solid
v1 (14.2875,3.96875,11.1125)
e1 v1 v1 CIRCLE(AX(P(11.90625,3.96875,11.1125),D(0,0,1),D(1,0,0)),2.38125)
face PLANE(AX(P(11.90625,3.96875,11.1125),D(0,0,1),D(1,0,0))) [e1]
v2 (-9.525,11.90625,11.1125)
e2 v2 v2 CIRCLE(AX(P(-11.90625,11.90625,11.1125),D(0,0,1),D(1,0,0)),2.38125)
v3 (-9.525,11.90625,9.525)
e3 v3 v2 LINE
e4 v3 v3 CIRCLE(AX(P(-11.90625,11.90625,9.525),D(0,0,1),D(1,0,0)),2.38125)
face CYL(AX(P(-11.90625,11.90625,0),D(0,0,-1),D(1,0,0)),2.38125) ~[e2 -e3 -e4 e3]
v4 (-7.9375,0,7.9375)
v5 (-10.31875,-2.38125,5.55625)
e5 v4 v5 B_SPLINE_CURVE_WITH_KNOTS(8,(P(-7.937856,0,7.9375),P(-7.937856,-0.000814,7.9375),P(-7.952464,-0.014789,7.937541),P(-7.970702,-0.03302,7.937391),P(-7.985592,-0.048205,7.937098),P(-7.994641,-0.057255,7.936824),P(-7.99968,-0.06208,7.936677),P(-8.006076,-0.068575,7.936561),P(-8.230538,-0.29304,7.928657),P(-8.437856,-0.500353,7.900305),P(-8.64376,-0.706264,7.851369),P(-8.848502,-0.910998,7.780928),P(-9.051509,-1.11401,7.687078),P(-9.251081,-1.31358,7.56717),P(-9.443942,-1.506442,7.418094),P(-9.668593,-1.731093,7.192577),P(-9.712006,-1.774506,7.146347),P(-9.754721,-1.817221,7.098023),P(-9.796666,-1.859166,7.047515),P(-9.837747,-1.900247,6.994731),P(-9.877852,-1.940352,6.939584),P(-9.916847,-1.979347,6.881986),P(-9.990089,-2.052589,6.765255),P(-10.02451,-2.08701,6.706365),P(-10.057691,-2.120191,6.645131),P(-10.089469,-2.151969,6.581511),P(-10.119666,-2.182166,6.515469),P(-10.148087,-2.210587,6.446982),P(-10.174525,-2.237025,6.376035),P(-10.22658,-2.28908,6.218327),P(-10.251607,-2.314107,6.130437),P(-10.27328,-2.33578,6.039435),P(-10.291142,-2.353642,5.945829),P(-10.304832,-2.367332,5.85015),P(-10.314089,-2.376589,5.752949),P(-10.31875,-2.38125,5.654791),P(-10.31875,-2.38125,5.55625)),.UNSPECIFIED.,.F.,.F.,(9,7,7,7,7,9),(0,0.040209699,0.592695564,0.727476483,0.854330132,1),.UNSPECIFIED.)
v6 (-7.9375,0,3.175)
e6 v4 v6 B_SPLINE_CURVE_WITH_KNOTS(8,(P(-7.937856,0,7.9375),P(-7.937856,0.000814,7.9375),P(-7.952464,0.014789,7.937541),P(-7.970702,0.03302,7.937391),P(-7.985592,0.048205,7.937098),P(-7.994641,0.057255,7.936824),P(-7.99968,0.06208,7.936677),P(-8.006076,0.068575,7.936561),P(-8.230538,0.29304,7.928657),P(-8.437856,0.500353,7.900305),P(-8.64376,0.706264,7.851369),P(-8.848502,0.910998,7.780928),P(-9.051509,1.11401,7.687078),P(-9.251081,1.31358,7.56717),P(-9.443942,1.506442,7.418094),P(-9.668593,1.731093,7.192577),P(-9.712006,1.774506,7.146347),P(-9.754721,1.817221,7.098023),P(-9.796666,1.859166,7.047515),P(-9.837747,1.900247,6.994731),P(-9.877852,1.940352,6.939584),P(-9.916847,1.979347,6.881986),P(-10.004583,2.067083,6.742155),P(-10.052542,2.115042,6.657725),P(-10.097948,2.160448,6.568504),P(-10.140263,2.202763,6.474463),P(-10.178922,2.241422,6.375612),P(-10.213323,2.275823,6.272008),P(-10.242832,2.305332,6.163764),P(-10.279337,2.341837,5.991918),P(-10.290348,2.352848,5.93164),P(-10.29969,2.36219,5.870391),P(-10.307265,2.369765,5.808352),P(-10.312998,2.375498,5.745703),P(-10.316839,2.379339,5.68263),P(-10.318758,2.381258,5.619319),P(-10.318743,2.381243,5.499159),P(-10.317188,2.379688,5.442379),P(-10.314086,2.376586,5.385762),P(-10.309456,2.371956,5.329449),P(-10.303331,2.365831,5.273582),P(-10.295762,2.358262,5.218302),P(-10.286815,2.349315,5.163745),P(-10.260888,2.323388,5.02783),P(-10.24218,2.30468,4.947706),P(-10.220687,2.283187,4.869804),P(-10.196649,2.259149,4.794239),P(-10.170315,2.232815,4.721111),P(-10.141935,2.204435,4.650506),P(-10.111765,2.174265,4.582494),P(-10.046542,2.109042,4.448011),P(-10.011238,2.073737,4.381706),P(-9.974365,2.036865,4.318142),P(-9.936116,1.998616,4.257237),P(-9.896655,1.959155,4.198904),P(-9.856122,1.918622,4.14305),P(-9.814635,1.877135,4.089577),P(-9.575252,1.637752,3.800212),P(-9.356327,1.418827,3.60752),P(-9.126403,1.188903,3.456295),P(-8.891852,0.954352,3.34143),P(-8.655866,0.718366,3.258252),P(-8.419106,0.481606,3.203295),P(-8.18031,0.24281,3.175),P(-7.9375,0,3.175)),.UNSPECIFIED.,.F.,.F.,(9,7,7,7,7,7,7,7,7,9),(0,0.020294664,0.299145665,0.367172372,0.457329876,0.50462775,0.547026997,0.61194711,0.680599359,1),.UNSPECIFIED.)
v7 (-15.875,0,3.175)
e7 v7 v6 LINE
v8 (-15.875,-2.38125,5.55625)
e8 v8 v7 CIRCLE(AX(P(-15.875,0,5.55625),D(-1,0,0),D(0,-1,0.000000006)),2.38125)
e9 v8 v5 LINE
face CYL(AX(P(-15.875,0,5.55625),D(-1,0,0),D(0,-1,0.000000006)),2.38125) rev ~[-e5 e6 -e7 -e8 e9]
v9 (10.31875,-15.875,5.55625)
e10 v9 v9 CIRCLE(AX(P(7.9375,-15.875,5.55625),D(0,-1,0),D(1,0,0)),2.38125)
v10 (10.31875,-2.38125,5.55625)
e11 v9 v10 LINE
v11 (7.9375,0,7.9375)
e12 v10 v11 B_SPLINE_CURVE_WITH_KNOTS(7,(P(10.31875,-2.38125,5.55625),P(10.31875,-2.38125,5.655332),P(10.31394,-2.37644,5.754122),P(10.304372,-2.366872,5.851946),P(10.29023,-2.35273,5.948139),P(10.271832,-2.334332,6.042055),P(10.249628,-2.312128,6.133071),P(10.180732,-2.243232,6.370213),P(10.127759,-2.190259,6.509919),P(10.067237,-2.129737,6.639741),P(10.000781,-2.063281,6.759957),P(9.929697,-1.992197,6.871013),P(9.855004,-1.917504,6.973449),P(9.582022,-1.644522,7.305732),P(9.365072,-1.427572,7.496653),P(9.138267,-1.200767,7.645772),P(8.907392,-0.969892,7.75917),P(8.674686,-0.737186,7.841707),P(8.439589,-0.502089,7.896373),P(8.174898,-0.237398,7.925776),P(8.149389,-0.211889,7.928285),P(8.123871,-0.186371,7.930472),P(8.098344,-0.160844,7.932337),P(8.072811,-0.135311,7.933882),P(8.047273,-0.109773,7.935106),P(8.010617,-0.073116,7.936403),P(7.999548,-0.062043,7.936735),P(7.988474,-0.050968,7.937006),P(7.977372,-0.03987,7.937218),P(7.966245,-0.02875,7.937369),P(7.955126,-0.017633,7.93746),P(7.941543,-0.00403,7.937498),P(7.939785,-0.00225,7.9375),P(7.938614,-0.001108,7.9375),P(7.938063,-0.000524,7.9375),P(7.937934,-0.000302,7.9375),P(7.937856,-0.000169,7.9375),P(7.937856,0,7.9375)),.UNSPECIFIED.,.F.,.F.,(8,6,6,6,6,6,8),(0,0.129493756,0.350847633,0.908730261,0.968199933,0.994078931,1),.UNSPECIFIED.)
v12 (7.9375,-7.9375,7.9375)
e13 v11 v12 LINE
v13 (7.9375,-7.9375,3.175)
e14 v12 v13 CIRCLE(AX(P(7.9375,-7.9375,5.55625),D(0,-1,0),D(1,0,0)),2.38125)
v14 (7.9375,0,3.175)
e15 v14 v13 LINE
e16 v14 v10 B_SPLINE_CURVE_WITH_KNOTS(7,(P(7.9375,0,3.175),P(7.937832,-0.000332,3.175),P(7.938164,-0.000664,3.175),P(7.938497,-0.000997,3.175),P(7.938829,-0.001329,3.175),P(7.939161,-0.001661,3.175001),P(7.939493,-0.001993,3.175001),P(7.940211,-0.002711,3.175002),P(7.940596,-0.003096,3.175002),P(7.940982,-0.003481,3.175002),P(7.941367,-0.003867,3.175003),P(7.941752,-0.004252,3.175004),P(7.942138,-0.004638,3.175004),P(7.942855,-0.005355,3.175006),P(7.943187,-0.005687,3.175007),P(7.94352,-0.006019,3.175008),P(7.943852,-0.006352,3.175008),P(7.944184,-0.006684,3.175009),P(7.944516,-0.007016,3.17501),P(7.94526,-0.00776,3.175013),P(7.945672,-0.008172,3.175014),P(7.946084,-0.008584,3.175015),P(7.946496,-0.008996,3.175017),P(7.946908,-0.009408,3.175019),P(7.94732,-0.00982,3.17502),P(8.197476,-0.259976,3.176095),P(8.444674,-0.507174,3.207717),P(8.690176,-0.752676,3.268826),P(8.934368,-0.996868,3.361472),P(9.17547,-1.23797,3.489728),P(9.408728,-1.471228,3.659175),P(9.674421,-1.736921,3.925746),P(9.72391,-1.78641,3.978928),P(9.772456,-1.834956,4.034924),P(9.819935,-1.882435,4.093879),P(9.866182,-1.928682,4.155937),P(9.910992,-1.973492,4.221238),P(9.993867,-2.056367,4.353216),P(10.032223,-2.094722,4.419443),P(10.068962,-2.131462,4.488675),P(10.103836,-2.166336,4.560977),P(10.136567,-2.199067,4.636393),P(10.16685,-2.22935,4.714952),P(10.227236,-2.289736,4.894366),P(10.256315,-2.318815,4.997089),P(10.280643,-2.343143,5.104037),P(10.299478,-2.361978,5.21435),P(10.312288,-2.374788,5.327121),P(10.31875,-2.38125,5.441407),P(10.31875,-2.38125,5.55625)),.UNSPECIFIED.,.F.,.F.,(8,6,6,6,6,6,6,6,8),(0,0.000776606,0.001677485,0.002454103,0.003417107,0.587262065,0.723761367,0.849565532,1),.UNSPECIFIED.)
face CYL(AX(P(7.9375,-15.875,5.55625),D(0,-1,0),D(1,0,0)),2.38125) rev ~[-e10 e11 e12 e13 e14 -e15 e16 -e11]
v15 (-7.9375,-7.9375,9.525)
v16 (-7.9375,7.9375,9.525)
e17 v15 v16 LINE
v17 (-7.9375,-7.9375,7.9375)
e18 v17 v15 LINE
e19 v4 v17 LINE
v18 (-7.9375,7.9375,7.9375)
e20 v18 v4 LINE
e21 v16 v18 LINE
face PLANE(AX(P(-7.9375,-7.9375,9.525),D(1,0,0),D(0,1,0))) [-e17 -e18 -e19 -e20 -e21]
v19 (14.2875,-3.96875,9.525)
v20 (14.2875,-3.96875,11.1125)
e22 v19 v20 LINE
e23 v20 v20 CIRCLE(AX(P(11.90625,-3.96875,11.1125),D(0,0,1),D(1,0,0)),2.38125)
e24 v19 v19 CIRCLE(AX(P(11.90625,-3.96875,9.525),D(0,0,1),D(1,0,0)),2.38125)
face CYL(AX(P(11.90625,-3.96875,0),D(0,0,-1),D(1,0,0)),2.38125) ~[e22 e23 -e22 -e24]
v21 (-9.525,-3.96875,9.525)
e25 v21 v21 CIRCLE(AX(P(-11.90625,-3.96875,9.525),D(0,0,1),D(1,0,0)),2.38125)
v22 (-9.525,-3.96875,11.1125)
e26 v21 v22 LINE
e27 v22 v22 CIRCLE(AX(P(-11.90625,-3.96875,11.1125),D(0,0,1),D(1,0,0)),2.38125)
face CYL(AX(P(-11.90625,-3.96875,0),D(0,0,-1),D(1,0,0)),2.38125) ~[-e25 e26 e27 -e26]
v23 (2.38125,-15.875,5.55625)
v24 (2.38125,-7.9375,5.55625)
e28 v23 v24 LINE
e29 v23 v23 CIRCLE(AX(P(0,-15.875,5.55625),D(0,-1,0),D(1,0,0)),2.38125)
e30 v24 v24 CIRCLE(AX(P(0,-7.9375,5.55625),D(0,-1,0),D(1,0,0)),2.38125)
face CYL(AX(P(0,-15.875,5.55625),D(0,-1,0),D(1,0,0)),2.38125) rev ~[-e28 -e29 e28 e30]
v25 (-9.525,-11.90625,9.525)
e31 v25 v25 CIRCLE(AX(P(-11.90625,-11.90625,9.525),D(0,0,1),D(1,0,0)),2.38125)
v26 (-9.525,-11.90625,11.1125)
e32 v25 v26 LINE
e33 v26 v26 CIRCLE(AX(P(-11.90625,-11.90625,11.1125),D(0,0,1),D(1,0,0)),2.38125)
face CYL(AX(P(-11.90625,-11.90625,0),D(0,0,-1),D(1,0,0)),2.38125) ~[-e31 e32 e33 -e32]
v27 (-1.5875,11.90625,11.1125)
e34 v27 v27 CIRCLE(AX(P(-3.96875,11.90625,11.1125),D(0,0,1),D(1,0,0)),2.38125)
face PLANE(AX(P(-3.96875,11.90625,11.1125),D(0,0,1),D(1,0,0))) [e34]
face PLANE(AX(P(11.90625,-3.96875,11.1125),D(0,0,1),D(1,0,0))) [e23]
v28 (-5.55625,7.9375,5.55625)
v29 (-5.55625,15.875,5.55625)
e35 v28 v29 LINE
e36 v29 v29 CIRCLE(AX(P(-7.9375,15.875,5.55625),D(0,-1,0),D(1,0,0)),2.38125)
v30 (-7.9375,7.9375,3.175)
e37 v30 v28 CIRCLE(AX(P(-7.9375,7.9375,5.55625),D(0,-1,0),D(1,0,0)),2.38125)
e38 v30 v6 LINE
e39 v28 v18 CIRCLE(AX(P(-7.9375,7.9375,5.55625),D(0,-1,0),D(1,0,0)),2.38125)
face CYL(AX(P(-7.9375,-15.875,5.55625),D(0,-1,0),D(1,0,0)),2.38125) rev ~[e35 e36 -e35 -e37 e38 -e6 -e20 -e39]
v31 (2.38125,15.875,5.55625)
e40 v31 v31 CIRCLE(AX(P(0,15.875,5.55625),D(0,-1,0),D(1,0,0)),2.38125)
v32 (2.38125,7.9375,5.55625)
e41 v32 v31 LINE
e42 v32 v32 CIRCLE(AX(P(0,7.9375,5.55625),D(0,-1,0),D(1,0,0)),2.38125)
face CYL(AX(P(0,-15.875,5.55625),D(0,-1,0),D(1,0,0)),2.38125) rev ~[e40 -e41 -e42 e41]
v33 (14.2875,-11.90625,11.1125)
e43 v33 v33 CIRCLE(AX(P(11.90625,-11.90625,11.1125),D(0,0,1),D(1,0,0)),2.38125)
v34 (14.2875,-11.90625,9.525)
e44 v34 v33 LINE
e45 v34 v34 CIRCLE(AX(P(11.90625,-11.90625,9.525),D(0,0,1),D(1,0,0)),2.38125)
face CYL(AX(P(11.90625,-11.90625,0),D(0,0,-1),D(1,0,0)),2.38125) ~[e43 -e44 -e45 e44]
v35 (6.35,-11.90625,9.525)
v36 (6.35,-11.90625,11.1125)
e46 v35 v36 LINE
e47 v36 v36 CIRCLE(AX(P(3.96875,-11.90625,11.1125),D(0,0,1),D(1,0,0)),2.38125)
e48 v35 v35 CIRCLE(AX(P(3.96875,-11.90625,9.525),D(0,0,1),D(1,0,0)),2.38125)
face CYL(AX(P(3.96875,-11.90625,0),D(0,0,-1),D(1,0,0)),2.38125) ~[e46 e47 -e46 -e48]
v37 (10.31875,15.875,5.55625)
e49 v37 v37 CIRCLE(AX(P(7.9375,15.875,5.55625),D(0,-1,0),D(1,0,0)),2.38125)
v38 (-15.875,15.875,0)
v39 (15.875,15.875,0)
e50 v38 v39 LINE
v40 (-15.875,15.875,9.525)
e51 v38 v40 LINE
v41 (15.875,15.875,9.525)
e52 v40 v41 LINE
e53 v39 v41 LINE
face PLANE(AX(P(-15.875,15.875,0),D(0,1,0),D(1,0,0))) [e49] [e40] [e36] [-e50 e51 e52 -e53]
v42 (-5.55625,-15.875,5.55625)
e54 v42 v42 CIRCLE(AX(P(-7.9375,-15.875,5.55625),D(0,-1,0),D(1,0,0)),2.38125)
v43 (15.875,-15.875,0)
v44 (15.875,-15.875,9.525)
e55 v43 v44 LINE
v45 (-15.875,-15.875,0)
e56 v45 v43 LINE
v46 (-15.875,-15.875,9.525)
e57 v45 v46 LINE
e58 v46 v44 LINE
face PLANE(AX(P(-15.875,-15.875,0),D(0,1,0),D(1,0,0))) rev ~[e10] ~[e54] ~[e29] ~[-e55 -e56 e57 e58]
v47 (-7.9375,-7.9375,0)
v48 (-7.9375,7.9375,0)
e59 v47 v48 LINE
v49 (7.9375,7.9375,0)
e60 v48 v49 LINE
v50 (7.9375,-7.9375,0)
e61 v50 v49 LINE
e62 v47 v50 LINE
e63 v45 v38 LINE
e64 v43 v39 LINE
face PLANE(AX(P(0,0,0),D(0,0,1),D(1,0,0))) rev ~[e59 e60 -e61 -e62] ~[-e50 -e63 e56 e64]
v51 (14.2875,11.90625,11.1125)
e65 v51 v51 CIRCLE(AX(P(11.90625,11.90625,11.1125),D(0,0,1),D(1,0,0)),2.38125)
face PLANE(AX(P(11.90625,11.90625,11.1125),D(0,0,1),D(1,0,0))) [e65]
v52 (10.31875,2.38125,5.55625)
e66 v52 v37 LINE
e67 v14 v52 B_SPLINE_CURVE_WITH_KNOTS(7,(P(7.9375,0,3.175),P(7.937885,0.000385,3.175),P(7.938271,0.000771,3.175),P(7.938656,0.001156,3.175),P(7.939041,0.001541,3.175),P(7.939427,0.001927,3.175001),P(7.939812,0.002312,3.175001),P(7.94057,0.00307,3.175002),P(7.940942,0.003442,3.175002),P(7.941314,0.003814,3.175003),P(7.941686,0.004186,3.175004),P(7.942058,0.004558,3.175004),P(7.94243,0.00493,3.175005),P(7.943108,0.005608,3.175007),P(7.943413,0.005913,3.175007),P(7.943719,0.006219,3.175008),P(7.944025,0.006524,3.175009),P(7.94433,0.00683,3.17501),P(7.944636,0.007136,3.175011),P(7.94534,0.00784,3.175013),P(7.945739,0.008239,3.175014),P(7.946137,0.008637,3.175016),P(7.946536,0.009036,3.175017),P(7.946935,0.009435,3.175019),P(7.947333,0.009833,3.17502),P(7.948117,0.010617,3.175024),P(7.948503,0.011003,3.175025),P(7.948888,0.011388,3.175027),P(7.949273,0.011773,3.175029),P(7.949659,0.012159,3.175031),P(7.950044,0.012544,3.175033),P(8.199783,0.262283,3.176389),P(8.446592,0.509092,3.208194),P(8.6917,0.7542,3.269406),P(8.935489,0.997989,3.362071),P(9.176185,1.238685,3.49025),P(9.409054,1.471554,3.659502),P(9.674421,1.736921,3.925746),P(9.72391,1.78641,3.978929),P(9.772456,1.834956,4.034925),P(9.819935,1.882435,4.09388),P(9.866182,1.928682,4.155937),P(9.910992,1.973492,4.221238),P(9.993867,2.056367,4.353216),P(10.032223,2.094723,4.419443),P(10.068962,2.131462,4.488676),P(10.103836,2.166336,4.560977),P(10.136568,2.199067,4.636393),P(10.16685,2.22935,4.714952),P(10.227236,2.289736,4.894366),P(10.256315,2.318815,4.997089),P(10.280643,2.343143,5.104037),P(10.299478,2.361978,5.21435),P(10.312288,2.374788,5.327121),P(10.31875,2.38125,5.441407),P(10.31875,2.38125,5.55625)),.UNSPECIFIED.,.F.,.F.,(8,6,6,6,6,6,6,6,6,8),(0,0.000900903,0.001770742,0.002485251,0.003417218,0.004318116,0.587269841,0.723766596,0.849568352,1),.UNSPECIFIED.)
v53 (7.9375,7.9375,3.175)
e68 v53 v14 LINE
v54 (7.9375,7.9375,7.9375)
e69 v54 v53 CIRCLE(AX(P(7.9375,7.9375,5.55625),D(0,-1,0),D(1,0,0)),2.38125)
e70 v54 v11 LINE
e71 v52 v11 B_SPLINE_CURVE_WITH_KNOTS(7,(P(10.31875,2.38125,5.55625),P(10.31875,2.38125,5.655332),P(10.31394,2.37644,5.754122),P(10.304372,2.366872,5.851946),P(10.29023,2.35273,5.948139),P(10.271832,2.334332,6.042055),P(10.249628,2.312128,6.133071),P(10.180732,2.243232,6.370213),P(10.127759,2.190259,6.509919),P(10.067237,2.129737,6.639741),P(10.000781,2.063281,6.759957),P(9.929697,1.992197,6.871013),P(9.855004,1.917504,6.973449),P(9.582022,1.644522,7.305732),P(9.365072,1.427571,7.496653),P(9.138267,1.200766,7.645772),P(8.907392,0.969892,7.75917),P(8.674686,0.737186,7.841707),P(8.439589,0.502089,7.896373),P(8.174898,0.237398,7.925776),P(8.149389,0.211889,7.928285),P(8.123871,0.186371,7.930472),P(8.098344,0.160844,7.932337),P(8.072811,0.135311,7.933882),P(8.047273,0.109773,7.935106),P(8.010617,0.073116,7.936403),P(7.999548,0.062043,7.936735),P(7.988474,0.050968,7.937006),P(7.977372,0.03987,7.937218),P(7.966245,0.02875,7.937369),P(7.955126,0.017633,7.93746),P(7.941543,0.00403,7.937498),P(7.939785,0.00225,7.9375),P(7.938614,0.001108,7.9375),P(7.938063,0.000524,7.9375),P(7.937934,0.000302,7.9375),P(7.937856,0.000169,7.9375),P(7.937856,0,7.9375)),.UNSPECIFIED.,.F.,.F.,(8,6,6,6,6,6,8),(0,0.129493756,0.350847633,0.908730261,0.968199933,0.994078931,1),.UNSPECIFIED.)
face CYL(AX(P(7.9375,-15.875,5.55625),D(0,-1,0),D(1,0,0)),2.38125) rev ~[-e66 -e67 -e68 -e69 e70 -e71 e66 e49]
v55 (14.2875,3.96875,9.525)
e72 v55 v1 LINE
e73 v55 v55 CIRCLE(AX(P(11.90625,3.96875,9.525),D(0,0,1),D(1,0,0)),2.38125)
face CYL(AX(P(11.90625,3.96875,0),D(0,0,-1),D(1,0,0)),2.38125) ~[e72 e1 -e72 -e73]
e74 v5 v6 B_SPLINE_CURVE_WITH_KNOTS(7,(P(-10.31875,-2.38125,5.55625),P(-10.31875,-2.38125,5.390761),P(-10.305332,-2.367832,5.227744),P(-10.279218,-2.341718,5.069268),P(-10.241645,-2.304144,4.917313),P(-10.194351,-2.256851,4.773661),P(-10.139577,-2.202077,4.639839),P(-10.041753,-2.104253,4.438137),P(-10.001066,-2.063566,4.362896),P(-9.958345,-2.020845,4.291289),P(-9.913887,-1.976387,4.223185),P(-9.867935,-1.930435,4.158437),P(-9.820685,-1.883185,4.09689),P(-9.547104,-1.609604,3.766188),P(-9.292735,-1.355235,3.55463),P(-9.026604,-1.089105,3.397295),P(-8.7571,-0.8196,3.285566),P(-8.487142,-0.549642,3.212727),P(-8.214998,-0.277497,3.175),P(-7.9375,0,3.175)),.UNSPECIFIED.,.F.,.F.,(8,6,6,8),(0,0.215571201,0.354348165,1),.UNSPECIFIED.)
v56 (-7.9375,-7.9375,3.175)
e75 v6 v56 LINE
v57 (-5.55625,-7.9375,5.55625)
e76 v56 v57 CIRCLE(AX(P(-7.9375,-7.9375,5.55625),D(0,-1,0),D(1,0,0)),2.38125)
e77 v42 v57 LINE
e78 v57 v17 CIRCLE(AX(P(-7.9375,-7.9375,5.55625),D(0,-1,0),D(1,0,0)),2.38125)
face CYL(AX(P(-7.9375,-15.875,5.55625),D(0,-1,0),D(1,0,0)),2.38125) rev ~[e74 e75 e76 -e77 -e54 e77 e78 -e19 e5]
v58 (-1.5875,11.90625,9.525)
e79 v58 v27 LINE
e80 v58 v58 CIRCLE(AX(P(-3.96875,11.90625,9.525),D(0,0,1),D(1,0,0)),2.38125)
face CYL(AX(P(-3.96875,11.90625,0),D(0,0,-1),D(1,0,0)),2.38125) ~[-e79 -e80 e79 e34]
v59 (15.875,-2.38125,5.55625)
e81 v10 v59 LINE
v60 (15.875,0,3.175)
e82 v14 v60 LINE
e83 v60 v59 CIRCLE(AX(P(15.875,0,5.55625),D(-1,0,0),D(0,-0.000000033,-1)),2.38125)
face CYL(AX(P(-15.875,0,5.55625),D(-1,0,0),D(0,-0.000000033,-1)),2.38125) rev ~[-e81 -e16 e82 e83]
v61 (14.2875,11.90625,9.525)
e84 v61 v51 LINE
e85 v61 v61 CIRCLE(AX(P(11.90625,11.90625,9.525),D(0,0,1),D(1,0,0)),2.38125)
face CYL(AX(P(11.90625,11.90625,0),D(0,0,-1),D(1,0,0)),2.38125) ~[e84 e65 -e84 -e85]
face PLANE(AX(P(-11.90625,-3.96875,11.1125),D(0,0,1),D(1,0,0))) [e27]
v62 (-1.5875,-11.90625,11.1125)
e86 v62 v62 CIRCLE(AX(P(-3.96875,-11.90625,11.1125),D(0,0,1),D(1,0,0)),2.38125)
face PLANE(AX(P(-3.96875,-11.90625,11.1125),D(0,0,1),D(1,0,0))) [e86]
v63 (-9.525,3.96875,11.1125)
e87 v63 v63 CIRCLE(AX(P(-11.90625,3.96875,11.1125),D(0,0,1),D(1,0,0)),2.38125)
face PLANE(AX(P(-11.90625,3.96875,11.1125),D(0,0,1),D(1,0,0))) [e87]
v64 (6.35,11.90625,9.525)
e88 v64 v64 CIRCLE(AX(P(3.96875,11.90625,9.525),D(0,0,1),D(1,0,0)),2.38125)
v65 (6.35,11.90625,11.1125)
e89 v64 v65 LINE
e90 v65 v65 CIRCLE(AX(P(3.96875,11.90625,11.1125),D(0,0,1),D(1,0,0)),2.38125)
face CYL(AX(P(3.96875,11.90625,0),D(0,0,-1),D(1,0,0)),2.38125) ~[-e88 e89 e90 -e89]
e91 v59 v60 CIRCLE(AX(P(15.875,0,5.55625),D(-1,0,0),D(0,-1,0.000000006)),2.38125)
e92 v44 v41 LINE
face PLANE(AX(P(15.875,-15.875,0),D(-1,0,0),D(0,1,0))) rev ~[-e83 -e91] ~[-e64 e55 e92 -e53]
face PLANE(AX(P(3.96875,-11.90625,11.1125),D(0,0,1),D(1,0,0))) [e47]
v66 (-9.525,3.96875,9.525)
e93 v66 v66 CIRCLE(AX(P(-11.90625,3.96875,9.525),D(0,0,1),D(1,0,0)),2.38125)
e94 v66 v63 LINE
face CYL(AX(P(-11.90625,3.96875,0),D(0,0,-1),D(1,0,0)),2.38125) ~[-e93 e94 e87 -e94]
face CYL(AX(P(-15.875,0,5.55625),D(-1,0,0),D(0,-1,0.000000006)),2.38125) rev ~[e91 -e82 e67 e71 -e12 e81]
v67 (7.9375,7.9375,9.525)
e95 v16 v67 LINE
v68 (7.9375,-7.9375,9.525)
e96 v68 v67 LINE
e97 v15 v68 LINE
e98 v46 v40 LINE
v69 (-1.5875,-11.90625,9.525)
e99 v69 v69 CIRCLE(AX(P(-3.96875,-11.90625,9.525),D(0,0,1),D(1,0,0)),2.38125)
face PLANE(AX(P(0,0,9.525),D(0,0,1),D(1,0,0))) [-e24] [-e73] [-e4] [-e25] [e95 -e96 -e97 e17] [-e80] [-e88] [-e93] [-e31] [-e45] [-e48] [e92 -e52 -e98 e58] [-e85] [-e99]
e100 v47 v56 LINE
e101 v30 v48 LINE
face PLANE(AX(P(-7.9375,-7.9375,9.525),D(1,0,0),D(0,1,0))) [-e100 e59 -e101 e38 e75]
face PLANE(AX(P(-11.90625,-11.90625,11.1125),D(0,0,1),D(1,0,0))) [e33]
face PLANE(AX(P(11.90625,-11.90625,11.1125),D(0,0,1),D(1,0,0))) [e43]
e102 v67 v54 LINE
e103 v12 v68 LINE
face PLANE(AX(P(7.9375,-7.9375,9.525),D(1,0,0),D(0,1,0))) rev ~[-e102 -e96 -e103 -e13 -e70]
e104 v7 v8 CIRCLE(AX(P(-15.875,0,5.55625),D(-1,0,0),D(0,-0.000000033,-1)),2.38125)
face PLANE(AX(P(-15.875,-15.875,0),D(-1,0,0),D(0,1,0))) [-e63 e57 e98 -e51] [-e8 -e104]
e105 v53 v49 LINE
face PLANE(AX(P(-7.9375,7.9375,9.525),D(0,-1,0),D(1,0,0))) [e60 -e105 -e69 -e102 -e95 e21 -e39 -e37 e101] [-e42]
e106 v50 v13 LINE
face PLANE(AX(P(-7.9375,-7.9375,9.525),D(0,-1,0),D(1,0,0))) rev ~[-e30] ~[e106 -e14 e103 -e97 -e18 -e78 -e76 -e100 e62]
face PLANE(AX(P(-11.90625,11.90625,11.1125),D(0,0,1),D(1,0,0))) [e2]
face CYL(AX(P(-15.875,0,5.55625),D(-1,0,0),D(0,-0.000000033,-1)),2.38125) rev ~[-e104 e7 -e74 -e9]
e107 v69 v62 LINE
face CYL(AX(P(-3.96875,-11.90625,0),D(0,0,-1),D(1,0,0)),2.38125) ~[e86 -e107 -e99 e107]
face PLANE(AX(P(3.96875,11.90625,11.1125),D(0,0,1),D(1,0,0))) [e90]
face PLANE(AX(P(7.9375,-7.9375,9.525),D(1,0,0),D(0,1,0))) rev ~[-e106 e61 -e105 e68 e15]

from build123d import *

# Parameters (mm, degrees)
F0_W     = 31.75
F0_H     = 31.75
F0_R     = 2.38125
F1_DEPTH = 9.525
F2_DEPTH = 11.1125
F3_W     = 15.875
F3_H     = 15.875
F4_DEPTH = 12.7
F5_R     = 2.38125
F6_DEPTH = 50.8
F8_DEPTH = 50.8


with BuildPart() as f1:
    # F0 (on Top) → F1 (new body)
    with BuildSketch(Plane.XY):
        Rectangle(F0_W, F0_H)
        with Locations((-11.90625, -11.90625)):
            Circle(F0_R, mode=Mode.SUBTRACT)
        with Locations((-3.96875, -11.90625)):
            Circle(F0_R, mode=Mode.SUBTRACT)
        with Locations((-11.90625, -3.96875)):
            Circle(F0_R, mode=Mode.SUBTRACT)
        with Locations((-3.96875, -3.96875)):
            Circle(F0_R, mode=Mode.SUBTRACT)
        with Locations((3.96875, -11.90625)):
            Circle(F0_R, mode=Mode.SUBTRACT)
        with Locations((11.90625, -11.90625)):
            Circle(F0_R, mode=Mode.SUBTRACT)
        with Locations((3.96875, -3.96875)):
            Circle(F0_R, mode=Mode.SUBTRACT)
        with Locations((11.90625, -3.96875)):
            Circle(F0_R, mode=Mode.SUBTRACT)
        with Locations((-11.90625, 3.96875)):
            Circle(F0_R, mode=Mode.SUBTRACT)
        with Locations((-3.96875, 3.96875)):
            Circle(F0_R, mode=Mode.SUBTRACT)
        with Locations((-11.90625, 11.90625)):
            Circle(F0_R, mode=Mode.SUBTRACT)
        with Locations((-3.96875, 11.90625)):
            Circle(F0_R, mode=Mode.SUBTRACT)
        with Locations((3.96875, 3.96875)):
            Circle(F0_R, mode=Mode.SUBTRACT)
        with Locations((11.90625, 3.96875)):
            Circle(F0_R, mode=Mode.SUBTRACT)
        with Locations((3.96875, 11.90625)):
            Circle(F0_R, mode=Mode.SUBTRACT)
        with Locations((11.90625, 11.90625)):
            Circle(F0_R, mode=Mode.SUBTRACT)
    extrude(amount=F1_DEPTH)

    # F0 (on Top) → F2 (join)
    with BuildSketch(Plane.XY):
        with Locations((-11.90625, 11.90625)):
            Circle(F0_R)
        with Locations((-3.96875, 11.90625)):
            Circle(F0_R)
        with Locations((3.96875, 11.90625)):
            Circle(F0_R)
        with Locations((11.90625, 11.90625)):
            Circle(F0_R)
        with Locations((11.90625, 3.96875)):
            Circle(F0_R)
        with Locations((3.96875, 3.96875)):
            Circle(F0_R)
        with Locations((-3.96875, 3.96875)):
            Circle(F0_R)
        with Locations((-11.90625, 3.96875)):
            Circle(F0_R)
        with Locations((-11.90625, -3.96875)):
            Circle(F0_R)
        with Locations((-3.96875, -3.96875)):
            Circle(F0_R)
        with Locations((3.96875, -3.96875)):
            Circle(F0_R)
        with Locations((11.90625, -3.96875)):
            Circle(F0_R)
        with Locations((11.90625, -11.90625)):
            Circle(F0_R)
        with Locations((3.96875, -11.90625)):
            Circle(F0_R)
        with Locations((-3.96875, -11.90625)):
            Circle(F0_R)
        with Locations((-11.90625, -11.90625)):
            Circle(F0_R)
    extrude(amount=F2_DEPTH)

    # F3 (on face) → F4 (cut, symmetric)
    with BuildSketch(Plane.XY.offset(9.525)):
        Rectangle(F3_W, F3_H)
    extrude(amount=F4_DEPTH, both=True, mode=Mode.SUBTRACT)

    # F5 (on face) → F6 (cut)
    with BuildSketch(Plane.XZ.offset(15.875)):
        with Locations((7.9375, 5.55625)):
            Circle(F5_R)
        with Locations((0, 5.55625)):
            Circle(F5_R)
        with Locations((-7.9375, 5.55625)):
            Circle(F5_R)
    extrude(amount=-F6_DEPTH, mode=Mode.SUBTRACT)

    # F7 (on face) → F8 (cut)
    with BuildSketch(Plane(origin=(-15.875, 0, 0), x_dir=(0, -1, 0), z_dir=(-1, 0, 0))):
        with BuildLine():
            ThreePointArc((0, 3.175), (1.683798, 3.872452), (2.38125, 5.55625))
            ThreePointArc((2.38125, 5.55625), (-1.683798, 7.240048), (0, 3.175))
        make_face()
    extrude(amount=-F8_DEPTH, mode=Mode.SUBTRACT)


solid = f1.part
